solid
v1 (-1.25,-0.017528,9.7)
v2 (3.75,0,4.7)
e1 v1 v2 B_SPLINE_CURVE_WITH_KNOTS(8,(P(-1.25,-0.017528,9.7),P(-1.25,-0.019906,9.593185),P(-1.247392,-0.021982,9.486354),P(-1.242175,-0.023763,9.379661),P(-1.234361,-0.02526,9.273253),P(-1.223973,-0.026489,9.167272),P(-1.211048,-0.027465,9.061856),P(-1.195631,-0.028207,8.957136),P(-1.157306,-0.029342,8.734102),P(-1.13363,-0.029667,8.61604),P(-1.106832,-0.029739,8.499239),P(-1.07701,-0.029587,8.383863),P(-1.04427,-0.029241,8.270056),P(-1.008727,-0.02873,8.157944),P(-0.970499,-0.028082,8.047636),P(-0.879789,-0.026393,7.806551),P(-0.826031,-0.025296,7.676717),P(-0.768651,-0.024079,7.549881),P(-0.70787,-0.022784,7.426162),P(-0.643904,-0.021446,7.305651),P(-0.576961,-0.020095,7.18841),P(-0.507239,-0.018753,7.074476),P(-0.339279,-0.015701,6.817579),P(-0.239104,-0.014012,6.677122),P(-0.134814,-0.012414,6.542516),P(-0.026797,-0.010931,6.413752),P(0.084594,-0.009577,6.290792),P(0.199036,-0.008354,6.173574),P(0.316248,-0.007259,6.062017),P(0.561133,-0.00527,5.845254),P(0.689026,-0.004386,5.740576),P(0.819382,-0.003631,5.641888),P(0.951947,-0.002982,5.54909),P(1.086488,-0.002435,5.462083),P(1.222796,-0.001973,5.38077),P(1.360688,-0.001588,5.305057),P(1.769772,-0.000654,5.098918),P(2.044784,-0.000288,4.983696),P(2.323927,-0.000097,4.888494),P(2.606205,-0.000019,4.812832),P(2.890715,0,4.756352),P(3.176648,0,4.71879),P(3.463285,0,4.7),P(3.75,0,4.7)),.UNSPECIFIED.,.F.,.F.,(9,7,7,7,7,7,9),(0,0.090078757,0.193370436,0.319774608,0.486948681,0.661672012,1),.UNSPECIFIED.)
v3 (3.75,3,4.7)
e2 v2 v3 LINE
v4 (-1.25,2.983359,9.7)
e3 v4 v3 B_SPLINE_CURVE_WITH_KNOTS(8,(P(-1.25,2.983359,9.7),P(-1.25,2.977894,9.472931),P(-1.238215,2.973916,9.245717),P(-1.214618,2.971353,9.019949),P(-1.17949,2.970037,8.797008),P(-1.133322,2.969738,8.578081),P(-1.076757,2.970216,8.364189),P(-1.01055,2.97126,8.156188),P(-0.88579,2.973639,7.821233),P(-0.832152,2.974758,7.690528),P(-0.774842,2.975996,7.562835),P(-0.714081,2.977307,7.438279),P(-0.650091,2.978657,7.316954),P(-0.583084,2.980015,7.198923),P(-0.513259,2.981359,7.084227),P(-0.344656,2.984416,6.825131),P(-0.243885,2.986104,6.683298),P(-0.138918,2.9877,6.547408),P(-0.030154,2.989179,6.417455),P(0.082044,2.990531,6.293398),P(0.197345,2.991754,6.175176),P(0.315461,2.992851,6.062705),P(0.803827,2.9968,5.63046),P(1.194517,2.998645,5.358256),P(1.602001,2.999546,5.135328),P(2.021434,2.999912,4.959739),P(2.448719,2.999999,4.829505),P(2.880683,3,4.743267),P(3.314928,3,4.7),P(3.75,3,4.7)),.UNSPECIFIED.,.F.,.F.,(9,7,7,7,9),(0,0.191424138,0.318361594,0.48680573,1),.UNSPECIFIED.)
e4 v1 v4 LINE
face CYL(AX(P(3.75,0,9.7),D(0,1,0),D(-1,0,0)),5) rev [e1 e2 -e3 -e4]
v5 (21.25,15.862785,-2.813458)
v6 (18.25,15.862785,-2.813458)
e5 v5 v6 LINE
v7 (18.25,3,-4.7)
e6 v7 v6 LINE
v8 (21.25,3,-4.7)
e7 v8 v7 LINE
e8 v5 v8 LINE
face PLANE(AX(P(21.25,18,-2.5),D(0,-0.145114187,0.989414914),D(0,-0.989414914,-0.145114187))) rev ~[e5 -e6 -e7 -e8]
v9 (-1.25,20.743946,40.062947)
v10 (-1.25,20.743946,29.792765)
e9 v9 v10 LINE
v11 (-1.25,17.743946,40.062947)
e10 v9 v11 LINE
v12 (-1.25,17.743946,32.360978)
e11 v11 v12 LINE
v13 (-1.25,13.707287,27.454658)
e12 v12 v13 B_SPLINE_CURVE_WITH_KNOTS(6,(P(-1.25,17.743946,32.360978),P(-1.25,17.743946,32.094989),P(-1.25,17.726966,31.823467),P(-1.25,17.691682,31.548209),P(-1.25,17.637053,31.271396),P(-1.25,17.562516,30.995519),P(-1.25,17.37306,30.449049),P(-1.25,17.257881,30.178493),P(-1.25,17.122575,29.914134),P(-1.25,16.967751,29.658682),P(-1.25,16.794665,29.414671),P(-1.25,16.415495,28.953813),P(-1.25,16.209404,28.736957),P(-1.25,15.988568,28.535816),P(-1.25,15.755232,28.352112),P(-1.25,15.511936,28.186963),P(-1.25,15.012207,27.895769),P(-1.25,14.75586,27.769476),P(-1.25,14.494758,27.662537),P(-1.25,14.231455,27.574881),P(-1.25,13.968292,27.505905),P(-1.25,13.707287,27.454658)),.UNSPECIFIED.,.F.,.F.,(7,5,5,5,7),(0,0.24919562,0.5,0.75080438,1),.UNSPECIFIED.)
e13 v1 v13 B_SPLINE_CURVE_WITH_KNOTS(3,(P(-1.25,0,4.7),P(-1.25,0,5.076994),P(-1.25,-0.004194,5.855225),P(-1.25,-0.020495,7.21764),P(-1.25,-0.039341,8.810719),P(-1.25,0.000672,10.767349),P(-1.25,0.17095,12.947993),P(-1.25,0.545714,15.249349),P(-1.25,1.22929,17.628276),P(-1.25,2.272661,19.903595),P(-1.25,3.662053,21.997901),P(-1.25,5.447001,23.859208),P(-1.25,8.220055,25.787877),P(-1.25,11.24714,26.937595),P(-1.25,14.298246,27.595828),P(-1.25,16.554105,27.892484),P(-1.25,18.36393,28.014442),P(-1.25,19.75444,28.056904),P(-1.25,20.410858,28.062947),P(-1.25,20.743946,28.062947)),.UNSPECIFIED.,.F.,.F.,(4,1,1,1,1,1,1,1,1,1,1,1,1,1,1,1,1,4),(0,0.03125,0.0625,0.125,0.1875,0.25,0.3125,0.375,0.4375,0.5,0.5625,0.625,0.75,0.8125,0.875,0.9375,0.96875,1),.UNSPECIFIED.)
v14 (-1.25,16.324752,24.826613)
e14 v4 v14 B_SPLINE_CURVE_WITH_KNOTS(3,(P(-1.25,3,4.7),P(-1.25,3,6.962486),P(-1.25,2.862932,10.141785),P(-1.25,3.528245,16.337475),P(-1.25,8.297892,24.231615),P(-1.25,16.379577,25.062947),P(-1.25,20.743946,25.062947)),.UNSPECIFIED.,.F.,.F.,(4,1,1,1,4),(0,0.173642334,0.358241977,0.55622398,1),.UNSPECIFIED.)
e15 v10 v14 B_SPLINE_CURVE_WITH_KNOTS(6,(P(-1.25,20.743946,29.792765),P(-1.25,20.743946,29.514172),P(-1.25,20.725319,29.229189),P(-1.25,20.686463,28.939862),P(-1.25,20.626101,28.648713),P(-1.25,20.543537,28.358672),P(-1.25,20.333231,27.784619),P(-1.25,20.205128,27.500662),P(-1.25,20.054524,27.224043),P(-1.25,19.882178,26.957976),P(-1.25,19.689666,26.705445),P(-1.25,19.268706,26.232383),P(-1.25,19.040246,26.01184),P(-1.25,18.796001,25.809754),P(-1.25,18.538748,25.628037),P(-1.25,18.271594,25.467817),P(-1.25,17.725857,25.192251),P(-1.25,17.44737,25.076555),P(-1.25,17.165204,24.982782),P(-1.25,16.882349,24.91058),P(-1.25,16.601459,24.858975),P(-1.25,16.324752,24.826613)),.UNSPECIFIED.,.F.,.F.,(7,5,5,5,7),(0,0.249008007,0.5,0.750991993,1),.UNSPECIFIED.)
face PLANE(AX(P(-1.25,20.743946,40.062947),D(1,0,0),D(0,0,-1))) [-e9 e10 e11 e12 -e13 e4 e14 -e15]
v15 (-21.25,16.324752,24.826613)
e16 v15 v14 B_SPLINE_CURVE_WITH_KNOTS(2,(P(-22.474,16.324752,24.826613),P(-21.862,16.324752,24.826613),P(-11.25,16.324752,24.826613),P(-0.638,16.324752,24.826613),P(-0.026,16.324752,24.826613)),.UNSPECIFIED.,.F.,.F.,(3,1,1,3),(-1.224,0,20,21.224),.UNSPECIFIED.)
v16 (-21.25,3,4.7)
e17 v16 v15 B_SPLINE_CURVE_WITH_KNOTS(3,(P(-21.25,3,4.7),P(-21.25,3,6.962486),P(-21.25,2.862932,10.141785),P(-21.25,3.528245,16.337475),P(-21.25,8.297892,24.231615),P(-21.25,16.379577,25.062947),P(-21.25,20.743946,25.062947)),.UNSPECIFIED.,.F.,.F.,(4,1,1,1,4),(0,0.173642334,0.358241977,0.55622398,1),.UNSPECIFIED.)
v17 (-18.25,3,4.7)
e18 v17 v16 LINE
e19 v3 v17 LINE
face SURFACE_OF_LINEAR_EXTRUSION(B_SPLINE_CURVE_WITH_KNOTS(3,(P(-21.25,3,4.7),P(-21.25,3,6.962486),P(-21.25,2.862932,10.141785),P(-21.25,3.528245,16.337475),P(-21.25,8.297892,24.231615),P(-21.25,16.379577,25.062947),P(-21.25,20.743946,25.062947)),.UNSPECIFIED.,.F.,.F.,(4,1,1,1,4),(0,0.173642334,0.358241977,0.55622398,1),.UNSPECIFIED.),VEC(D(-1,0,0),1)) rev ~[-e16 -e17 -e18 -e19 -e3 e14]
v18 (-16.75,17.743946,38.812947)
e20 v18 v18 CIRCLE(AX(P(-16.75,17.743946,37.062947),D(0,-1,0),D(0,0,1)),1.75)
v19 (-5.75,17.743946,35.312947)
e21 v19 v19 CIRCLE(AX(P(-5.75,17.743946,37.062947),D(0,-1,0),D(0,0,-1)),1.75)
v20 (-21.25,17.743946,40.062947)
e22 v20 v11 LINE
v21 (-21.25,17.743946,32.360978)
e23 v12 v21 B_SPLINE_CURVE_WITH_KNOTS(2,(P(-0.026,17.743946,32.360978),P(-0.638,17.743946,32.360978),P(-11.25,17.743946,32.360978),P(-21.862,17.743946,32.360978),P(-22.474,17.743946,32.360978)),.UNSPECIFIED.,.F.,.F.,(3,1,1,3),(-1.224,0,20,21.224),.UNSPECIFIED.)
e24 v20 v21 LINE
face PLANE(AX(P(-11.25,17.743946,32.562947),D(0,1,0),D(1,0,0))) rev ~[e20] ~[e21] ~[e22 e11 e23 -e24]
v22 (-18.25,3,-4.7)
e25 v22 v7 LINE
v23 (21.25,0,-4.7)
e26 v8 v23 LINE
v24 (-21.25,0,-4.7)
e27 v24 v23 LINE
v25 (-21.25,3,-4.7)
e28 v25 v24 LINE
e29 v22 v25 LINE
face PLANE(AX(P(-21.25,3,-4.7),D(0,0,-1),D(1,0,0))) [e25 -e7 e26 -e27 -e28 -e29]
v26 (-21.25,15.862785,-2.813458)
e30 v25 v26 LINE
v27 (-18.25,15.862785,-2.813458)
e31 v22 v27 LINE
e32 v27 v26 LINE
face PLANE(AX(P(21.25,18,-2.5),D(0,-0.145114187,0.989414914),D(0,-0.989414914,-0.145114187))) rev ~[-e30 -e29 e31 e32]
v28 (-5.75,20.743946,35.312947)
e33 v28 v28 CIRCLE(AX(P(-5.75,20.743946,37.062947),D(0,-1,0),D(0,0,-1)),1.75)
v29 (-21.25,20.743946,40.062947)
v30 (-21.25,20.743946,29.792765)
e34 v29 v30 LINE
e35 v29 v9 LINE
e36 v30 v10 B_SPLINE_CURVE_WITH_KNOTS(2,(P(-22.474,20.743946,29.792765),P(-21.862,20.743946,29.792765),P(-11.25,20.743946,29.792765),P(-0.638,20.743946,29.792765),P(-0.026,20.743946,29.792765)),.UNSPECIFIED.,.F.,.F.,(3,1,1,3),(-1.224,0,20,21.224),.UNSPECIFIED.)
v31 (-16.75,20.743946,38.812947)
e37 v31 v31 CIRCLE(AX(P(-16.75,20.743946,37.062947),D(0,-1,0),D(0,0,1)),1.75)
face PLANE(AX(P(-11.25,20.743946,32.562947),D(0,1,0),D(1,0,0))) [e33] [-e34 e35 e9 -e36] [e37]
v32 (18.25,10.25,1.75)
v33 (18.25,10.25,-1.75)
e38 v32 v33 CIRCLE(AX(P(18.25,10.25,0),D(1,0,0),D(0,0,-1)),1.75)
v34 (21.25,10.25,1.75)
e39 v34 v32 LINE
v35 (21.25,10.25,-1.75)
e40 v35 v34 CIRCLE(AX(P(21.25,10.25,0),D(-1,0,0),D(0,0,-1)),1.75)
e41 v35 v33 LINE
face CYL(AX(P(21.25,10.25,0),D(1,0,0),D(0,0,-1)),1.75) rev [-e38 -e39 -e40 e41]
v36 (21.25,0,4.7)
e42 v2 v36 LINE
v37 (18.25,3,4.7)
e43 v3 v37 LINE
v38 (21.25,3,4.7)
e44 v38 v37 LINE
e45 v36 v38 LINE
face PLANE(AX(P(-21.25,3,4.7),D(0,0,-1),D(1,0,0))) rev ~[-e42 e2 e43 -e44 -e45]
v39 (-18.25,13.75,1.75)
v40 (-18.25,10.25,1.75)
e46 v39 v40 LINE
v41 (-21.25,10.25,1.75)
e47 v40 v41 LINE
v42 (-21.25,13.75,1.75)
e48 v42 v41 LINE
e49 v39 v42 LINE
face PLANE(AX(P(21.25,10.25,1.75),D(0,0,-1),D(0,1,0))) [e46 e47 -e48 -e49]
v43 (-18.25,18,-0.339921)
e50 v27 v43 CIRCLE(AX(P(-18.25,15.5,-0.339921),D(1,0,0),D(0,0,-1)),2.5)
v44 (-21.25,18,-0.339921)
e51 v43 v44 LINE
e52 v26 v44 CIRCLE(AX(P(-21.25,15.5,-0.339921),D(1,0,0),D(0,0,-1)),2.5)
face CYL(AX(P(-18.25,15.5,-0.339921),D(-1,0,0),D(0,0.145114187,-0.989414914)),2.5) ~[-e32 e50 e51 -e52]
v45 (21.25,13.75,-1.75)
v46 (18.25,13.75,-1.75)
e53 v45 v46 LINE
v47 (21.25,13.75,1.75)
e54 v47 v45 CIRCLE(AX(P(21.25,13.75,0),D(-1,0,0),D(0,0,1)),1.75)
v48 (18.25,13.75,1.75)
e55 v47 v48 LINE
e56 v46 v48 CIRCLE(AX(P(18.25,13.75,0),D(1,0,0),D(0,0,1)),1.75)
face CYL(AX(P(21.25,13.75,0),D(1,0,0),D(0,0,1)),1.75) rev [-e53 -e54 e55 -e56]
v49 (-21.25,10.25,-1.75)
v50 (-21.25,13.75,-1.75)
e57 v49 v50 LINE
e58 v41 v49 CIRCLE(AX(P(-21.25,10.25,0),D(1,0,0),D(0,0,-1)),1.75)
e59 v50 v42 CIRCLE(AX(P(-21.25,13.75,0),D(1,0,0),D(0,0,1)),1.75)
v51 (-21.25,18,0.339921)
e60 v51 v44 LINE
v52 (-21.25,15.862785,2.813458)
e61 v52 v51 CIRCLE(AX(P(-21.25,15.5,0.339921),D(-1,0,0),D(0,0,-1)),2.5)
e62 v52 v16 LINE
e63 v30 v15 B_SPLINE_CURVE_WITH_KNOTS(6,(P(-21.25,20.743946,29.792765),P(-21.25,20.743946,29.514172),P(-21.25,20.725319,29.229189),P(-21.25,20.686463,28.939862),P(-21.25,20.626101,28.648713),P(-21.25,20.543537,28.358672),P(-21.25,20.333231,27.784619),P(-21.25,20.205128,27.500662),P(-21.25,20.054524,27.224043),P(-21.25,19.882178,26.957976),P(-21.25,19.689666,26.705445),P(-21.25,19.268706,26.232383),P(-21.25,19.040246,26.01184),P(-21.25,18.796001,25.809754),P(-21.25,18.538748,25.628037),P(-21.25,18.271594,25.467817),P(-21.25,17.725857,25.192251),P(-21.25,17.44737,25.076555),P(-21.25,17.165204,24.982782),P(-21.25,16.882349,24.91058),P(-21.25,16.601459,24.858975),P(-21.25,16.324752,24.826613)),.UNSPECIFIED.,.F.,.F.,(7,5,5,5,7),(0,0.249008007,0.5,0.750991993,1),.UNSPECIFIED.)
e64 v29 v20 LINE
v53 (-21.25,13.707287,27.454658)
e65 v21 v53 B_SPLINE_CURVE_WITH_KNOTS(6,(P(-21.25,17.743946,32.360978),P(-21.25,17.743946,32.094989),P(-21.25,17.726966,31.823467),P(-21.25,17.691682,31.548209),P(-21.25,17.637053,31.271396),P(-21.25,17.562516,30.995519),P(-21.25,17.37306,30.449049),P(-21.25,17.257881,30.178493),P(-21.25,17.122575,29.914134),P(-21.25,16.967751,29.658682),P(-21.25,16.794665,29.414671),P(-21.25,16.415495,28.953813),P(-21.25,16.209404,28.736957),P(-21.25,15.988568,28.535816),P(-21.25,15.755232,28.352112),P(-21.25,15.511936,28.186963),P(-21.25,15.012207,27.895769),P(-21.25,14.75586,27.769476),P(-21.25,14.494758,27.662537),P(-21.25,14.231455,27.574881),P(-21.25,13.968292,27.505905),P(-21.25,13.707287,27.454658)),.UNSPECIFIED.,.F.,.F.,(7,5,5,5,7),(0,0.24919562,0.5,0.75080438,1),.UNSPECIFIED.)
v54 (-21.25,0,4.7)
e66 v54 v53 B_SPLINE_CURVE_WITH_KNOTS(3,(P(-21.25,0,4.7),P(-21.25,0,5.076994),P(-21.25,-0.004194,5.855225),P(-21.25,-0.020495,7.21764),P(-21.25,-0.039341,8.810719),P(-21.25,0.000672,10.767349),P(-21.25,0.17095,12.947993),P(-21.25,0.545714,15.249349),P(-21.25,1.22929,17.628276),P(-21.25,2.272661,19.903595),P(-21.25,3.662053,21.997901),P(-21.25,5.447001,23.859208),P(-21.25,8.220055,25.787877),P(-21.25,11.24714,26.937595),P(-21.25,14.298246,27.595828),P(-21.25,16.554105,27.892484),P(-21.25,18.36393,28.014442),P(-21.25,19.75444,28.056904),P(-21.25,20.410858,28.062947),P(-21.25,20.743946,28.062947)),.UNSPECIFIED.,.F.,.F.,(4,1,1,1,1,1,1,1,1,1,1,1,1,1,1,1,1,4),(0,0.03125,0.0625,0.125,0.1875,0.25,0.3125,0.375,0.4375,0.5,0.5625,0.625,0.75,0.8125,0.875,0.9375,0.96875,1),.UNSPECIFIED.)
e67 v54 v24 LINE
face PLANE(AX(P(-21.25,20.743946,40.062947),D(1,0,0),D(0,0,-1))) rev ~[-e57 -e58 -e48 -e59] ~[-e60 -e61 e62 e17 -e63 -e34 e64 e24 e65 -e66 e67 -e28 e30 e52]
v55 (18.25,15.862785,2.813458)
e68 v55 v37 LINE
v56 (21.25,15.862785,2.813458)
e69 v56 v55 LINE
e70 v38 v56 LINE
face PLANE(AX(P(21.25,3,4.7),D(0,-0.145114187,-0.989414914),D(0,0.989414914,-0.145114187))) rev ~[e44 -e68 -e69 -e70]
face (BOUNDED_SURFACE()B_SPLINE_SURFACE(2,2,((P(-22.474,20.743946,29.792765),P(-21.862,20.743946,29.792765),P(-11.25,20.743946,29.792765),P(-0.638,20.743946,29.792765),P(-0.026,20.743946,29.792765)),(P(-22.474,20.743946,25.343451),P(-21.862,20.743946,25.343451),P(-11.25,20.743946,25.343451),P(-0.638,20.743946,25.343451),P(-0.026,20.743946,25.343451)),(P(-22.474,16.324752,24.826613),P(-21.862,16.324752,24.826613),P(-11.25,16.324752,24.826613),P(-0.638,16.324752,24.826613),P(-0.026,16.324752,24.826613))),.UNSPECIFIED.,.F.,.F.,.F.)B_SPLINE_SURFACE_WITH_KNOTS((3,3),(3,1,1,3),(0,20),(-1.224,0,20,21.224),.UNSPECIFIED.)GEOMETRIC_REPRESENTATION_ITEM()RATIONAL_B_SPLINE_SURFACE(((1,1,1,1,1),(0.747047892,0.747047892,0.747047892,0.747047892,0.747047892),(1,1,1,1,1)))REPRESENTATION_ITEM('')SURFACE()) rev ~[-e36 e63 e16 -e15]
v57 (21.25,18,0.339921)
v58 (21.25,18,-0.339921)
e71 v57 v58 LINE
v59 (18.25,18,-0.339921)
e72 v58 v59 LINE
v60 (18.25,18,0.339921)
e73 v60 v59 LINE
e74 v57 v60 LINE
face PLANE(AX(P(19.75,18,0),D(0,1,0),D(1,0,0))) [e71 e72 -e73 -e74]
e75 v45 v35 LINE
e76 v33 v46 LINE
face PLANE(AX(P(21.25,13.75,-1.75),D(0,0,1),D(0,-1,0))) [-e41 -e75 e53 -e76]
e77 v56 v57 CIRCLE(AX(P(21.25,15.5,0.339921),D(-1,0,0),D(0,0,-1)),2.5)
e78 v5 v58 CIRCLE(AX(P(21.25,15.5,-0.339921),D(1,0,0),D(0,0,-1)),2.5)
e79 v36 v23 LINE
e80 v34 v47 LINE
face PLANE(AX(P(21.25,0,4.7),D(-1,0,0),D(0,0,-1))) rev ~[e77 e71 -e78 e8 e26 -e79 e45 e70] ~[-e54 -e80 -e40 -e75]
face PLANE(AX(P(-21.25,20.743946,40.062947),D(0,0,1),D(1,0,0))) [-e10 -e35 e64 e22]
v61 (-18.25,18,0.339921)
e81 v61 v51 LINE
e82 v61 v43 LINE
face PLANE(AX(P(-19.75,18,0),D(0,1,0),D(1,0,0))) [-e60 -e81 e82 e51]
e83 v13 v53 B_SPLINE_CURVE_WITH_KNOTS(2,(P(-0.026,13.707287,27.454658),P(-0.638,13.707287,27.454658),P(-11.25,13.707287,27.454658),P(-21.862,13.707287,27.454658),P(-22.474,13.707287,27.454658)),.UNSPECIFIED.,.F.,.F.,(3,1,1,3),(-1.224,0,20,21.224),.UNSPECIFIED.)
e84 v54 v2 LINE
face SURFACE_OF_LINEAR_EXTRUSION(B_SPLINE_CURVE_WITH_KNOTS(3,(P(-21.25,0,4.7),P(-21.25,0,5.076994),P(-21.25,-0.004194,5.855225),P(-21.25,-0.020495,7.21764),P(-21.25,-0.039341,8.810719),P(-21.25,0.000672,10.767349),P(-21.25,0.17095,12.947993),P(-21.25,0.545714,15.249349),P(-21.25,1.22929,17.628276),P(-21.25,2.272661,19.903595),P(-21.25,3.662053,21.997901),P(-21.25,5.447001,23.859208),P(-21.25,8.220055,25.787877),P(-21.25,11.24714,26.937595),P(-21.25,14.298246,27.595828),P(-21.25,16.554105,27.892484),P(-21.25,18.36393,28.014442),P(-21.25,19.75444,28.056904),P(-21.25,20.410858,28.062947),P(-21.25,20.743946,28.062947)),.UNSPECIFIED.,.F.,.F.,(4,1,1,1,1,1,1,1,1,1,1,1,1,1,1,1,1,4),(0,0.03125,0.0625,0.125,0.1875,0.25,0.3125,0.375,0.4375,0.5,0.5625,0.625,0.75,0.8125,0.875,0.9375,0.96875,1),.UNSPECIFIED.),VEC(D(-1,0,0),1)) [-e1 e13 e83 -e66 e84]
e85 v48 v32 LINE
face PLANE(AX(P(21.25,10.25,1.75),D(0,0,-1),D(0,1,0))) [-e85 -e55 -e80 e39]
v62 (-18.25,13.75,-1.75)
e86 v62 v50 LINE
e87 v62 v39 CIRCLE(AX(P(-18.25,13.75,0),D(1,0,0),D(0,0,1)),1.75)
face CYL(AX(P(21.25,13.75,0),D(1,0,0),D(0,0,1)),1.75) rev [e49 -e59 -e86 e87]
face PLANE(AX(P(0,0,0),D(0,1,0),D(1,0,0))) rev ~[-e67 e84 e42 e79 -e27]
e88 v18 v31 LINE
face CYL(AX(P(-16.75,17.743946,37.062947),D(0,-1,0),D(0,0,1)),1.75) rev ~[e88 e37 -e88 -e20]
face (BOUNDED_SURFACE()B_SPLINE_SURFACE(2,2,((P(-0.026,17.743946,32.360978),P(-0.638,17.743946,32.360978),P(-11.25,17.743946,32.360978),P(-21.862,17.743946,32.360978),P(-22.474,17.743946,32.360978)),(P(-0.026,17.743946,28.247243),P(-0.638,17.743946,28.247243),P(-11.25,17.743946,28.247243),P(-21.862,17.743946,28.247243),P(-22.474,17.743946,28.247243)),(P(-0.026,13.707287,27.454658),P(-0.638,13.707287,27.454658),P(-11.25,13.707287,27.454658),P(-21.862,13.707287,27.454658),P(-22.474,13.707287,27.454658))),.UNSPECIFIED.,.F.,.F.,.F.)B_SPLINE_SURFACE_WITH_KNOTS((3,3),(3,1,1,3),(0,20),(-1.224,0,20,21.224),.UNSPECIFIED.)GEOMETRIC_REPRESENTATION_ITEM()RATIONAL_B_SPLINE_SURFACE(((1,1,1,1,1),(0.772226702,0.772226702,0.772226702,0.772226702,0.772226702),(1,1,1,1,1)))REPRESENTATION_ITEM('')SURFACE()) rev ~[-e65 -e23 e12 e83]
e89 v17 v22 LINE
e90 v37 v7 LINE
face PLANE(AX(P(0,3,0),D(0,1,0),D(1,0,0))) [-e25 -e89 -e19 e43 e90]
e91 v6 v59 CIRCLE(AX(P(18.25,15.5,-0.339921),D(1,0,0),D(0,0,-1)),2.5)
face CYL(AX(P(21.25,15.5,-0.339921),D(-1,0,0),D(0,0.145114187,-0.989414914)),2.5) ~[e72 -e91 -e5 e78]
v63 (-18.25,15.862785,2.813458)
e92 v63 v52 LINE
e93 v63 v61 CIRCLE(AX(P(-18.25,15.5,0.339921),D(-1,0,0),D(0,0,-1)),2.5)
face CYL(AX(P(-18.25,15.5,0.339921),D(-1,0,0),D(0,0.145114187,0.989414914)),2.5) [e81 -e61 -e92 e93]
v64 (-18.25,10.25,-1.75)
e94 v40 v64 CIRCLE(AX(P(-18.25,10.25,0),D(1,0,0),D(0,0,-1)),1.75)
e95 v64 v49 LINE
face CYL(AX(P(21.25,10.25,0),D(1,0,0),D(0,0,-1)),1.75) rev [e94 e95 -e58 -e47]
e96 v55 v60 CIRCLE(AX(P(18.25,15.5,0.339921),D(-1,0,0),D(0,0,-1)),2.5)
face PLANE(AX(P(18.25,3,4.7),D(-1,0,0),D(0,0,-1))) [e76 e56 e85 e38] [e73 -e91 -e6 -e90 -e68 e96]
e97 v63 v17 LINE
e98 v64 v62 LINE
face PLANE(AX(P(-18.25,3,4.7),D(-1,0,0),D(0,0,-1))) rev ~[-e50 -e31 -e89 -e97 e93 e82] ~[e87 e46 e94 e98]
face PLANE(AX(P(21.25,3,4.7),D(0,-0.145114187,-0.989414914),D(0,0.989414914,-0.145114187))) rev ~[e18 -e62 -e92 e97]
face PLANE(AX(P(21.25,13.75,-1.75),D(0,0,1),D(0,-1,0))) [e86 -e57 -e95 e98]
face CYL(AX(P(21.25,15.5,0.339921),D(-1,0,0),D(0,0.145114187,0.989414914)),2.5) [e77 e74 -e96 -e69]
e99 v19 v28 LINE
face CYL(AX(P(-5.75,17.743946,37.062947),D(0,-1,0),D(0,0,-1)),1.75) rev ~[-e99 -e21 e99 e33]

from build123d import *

# Parameters (mm, degrees)
SKETCH_2_W          = 42.5
SKETCH_2_H          = 9.4
EXTRUDE_1_DEPTH     = 3
SKETCH_3_W          = 3
SKETCH_3_H          = 9.4
EXTRUDE_2_DEPTH     = 15
CUT_EXTRUDE_3_DEPTH = 47.393318484
CUT_EXTRUDE_4_DEPTH = 47.393318484
FILLET_2_R          = 2.5
EXTRUDE_5_DEPTH     = 20
SKETCH_12_W         = 20
SKETCH_12_H         = 15
EXTRUDE_6_DEPTH     = 3
FILLET_3_R          = 5
SKETCH_13_R         = 1.75
CUT_EXTRUDE_5_DEPTH = 49.708304406
FILLET_4_R          = 5


with BuildPart() as part:
    # 草图2 → 凸台-拉伸1 (new body)
    with BuildSketch(Plane(origin=(0, 0, 0), x_dir=(1, 0, 0), z_dir=(0, 1, 0))):
        Rectangle(SKETCH_2_W, SKETCH_2_H)
    extrude(amount=EXTRUDE_1_DEPTH)

    # 草图3 → 凸台-拉伸2 (add)
    with BuildSketch(Plane(origin=(0, 3, 0), x_dir=(1, 0, 0), z_dir=(0, 1, 0))):
        with Locations((-19.75, 0)):
            Rectangle(SKETCH_3_W, SKETCH_3_H)
        with Locations((19.75, 0)):
            Rectangle(SKETCH_3_W, SKETCH_3_H)
    extrude(amount=EXTRUDE_2_DEPTH)

    # 草图7 → 切除-拉伸3 (cut, through all)
    with BuildSketch(Plane(origin=(21.25, 0, 0), x_dir=(0, 0, -1), z_dir=(1, 0, 0))):
        with BuildLine():
            Line((1.75, 13.75), (1.75, 10.25))
            ThreePointArc((1.75, 10.25), (0, 8.5), (-1.75, 10.25))
            Line((-1.75, 10.25), (-1.75, 13.75))
            ThreePointArc((-1.75, 13.75), (0, 15.5), (1.75, 13.75))
        make_face()
    extrude(amount=-CUT_EXTRUDE_3_DEPTH, mode=Mode.SUBTRACT)

    # 草图8 → 切除-拉伸4 (cut, through all)
    with BuildSketch(Plane(origin=(21.25, 0, 0), x_dir=(0, 0, -1), z_dir=(1, 0, 0))):
        Polygon((-4.7, 3), (-2.5, 18), (-2.5, 19), (2.5, 19), (2.5, 18), (4.7, 3), (5.7, 3), (5.7, 21), (-5.7, 21), (-5.7, 3), align=None)
    extrude(amount=-CUT_EXTRUDE_4_DEPTH, mode=Mode.SUBTRACT)

    # 圆角2
    fillet_2_edges = [part.edges().sort_by_distance(p)[0] for p in [
        (19.75, 18, 2.5),
        (19.75, 18, -2.5),
        (-19.75, 18, 2.5),
        (-19.75, 18, -2.5),
    ]]
    fillet(fillet_2_edges, radius=FILLET_2_R)

    # 草图11 → 凸台-拉伸5 (add)
    with BuildSketch(Plane.ZY.offset(21.25)):
        with BuildLine():
            Line((4.7, 0), (4.7, 3))
            add(Edge.make_bspline(
                [(4.7, 3), (6.962486025, 3), (10.1417855, 2.862932252), (16.337474526, 3.528245294), (24.23161516, 8.297891954), (25.062946505, 16.379576905), (25.062946505, 20.743946169)],
                knots=[0, 0, 0, 0, 0.173642334, 0.358241977, 0.55622398, 1, 1, 1, 1], degree=3))
            Line((25.062946505, 20.743946169), (28.062946505, 20.743946169))
            add(Edge.make_bspline(
                [(4.7, 0), (5.076993719, 0), (5.855225367, -0.004193676), (7.217639973, -0.020495438), (8.810719384, -0.039341399), (10.76734867, 0.000672168), (12.947992739, 0.170949768), (15.24934878, 0.54571413), (17.628276305, 1.229289778), (19.903594775, 2.272660667), (21.99790066, 3.662053242), (23.859207745, 5.447000714), (25.7878767, 8.220055058), (26.937595088, 11.247139627), (27.595828159, 14.298246056), (27.892483676, 16.554104562), (28.014441837, 18.363930093), (28.056904435, 19.75444003), (28.062946505, 20.410858245), (28.062946505, 20.743946169)],
                knots=[0, 0, 0, 0, 0.03125, 0.0625, 0.125, 0.1875, 0.25, 0.3125, 0.375, 0.4375, 0.5, 0.5625, 0.625, 0.75, 0.8125, 0.875, 0.9375, 0.96875, 1, 1, 1, 1], degree=3))
        make_face()
    extrude(amount=-EXTRUDE_5_DEPTH)

    # 草图12 → 凸台-拉伸6 (add)
    with BuildSketch(Plane(origin=(0, 20.743946169, 0), x_dir=(1, 0, 0), z_dir=(0, 1.0, 2.3592378051162655e-12))):
        with Locations((-11.25, -32.562946505)):
            Rectangle(SKETCH_12_W, SKETCH_12_H)
    extrude(amount=-EXTRUDE_6_DEPTH)

    # 圆角3
    fillet_3_edges = [part.edges().sort_by_distance(p)[0] for p in [
        (-11.25, 17.743946169, 27.967624868),
        (-11.25, 20.743946169, 25.062946505),
    ]]
    fillet(fillet_3_edges, radius=FILLET_3_R)

    # 草图13 → 切除-拉伸5 (cut, through all)
    with BuildSketch(Plane.XZ.offset(-17.743946169)):
        with Locations(Location((-5.75, 37.062946505, 0), (0, 0, 270))):
            Circle(SKETCH_13_R)
        with Locations(Location((-16.75, 37.062946505, 0), (0, 0, 90))):
            Circle(SKETCH_13_R)
    extrude(amount=-CUT_EXTRUDE_5_DEPTH, mode=Mode.SUBTRACT)

    # 圆角4
    fillet_4_edges = [part.edges().sort_by_distance(p)[0] for p in [
        (-1.25, 1.5, 4.7),
    ]]
    fillet(fillet_4_edges, radius=FILLET_4_R)


solid = part.part
